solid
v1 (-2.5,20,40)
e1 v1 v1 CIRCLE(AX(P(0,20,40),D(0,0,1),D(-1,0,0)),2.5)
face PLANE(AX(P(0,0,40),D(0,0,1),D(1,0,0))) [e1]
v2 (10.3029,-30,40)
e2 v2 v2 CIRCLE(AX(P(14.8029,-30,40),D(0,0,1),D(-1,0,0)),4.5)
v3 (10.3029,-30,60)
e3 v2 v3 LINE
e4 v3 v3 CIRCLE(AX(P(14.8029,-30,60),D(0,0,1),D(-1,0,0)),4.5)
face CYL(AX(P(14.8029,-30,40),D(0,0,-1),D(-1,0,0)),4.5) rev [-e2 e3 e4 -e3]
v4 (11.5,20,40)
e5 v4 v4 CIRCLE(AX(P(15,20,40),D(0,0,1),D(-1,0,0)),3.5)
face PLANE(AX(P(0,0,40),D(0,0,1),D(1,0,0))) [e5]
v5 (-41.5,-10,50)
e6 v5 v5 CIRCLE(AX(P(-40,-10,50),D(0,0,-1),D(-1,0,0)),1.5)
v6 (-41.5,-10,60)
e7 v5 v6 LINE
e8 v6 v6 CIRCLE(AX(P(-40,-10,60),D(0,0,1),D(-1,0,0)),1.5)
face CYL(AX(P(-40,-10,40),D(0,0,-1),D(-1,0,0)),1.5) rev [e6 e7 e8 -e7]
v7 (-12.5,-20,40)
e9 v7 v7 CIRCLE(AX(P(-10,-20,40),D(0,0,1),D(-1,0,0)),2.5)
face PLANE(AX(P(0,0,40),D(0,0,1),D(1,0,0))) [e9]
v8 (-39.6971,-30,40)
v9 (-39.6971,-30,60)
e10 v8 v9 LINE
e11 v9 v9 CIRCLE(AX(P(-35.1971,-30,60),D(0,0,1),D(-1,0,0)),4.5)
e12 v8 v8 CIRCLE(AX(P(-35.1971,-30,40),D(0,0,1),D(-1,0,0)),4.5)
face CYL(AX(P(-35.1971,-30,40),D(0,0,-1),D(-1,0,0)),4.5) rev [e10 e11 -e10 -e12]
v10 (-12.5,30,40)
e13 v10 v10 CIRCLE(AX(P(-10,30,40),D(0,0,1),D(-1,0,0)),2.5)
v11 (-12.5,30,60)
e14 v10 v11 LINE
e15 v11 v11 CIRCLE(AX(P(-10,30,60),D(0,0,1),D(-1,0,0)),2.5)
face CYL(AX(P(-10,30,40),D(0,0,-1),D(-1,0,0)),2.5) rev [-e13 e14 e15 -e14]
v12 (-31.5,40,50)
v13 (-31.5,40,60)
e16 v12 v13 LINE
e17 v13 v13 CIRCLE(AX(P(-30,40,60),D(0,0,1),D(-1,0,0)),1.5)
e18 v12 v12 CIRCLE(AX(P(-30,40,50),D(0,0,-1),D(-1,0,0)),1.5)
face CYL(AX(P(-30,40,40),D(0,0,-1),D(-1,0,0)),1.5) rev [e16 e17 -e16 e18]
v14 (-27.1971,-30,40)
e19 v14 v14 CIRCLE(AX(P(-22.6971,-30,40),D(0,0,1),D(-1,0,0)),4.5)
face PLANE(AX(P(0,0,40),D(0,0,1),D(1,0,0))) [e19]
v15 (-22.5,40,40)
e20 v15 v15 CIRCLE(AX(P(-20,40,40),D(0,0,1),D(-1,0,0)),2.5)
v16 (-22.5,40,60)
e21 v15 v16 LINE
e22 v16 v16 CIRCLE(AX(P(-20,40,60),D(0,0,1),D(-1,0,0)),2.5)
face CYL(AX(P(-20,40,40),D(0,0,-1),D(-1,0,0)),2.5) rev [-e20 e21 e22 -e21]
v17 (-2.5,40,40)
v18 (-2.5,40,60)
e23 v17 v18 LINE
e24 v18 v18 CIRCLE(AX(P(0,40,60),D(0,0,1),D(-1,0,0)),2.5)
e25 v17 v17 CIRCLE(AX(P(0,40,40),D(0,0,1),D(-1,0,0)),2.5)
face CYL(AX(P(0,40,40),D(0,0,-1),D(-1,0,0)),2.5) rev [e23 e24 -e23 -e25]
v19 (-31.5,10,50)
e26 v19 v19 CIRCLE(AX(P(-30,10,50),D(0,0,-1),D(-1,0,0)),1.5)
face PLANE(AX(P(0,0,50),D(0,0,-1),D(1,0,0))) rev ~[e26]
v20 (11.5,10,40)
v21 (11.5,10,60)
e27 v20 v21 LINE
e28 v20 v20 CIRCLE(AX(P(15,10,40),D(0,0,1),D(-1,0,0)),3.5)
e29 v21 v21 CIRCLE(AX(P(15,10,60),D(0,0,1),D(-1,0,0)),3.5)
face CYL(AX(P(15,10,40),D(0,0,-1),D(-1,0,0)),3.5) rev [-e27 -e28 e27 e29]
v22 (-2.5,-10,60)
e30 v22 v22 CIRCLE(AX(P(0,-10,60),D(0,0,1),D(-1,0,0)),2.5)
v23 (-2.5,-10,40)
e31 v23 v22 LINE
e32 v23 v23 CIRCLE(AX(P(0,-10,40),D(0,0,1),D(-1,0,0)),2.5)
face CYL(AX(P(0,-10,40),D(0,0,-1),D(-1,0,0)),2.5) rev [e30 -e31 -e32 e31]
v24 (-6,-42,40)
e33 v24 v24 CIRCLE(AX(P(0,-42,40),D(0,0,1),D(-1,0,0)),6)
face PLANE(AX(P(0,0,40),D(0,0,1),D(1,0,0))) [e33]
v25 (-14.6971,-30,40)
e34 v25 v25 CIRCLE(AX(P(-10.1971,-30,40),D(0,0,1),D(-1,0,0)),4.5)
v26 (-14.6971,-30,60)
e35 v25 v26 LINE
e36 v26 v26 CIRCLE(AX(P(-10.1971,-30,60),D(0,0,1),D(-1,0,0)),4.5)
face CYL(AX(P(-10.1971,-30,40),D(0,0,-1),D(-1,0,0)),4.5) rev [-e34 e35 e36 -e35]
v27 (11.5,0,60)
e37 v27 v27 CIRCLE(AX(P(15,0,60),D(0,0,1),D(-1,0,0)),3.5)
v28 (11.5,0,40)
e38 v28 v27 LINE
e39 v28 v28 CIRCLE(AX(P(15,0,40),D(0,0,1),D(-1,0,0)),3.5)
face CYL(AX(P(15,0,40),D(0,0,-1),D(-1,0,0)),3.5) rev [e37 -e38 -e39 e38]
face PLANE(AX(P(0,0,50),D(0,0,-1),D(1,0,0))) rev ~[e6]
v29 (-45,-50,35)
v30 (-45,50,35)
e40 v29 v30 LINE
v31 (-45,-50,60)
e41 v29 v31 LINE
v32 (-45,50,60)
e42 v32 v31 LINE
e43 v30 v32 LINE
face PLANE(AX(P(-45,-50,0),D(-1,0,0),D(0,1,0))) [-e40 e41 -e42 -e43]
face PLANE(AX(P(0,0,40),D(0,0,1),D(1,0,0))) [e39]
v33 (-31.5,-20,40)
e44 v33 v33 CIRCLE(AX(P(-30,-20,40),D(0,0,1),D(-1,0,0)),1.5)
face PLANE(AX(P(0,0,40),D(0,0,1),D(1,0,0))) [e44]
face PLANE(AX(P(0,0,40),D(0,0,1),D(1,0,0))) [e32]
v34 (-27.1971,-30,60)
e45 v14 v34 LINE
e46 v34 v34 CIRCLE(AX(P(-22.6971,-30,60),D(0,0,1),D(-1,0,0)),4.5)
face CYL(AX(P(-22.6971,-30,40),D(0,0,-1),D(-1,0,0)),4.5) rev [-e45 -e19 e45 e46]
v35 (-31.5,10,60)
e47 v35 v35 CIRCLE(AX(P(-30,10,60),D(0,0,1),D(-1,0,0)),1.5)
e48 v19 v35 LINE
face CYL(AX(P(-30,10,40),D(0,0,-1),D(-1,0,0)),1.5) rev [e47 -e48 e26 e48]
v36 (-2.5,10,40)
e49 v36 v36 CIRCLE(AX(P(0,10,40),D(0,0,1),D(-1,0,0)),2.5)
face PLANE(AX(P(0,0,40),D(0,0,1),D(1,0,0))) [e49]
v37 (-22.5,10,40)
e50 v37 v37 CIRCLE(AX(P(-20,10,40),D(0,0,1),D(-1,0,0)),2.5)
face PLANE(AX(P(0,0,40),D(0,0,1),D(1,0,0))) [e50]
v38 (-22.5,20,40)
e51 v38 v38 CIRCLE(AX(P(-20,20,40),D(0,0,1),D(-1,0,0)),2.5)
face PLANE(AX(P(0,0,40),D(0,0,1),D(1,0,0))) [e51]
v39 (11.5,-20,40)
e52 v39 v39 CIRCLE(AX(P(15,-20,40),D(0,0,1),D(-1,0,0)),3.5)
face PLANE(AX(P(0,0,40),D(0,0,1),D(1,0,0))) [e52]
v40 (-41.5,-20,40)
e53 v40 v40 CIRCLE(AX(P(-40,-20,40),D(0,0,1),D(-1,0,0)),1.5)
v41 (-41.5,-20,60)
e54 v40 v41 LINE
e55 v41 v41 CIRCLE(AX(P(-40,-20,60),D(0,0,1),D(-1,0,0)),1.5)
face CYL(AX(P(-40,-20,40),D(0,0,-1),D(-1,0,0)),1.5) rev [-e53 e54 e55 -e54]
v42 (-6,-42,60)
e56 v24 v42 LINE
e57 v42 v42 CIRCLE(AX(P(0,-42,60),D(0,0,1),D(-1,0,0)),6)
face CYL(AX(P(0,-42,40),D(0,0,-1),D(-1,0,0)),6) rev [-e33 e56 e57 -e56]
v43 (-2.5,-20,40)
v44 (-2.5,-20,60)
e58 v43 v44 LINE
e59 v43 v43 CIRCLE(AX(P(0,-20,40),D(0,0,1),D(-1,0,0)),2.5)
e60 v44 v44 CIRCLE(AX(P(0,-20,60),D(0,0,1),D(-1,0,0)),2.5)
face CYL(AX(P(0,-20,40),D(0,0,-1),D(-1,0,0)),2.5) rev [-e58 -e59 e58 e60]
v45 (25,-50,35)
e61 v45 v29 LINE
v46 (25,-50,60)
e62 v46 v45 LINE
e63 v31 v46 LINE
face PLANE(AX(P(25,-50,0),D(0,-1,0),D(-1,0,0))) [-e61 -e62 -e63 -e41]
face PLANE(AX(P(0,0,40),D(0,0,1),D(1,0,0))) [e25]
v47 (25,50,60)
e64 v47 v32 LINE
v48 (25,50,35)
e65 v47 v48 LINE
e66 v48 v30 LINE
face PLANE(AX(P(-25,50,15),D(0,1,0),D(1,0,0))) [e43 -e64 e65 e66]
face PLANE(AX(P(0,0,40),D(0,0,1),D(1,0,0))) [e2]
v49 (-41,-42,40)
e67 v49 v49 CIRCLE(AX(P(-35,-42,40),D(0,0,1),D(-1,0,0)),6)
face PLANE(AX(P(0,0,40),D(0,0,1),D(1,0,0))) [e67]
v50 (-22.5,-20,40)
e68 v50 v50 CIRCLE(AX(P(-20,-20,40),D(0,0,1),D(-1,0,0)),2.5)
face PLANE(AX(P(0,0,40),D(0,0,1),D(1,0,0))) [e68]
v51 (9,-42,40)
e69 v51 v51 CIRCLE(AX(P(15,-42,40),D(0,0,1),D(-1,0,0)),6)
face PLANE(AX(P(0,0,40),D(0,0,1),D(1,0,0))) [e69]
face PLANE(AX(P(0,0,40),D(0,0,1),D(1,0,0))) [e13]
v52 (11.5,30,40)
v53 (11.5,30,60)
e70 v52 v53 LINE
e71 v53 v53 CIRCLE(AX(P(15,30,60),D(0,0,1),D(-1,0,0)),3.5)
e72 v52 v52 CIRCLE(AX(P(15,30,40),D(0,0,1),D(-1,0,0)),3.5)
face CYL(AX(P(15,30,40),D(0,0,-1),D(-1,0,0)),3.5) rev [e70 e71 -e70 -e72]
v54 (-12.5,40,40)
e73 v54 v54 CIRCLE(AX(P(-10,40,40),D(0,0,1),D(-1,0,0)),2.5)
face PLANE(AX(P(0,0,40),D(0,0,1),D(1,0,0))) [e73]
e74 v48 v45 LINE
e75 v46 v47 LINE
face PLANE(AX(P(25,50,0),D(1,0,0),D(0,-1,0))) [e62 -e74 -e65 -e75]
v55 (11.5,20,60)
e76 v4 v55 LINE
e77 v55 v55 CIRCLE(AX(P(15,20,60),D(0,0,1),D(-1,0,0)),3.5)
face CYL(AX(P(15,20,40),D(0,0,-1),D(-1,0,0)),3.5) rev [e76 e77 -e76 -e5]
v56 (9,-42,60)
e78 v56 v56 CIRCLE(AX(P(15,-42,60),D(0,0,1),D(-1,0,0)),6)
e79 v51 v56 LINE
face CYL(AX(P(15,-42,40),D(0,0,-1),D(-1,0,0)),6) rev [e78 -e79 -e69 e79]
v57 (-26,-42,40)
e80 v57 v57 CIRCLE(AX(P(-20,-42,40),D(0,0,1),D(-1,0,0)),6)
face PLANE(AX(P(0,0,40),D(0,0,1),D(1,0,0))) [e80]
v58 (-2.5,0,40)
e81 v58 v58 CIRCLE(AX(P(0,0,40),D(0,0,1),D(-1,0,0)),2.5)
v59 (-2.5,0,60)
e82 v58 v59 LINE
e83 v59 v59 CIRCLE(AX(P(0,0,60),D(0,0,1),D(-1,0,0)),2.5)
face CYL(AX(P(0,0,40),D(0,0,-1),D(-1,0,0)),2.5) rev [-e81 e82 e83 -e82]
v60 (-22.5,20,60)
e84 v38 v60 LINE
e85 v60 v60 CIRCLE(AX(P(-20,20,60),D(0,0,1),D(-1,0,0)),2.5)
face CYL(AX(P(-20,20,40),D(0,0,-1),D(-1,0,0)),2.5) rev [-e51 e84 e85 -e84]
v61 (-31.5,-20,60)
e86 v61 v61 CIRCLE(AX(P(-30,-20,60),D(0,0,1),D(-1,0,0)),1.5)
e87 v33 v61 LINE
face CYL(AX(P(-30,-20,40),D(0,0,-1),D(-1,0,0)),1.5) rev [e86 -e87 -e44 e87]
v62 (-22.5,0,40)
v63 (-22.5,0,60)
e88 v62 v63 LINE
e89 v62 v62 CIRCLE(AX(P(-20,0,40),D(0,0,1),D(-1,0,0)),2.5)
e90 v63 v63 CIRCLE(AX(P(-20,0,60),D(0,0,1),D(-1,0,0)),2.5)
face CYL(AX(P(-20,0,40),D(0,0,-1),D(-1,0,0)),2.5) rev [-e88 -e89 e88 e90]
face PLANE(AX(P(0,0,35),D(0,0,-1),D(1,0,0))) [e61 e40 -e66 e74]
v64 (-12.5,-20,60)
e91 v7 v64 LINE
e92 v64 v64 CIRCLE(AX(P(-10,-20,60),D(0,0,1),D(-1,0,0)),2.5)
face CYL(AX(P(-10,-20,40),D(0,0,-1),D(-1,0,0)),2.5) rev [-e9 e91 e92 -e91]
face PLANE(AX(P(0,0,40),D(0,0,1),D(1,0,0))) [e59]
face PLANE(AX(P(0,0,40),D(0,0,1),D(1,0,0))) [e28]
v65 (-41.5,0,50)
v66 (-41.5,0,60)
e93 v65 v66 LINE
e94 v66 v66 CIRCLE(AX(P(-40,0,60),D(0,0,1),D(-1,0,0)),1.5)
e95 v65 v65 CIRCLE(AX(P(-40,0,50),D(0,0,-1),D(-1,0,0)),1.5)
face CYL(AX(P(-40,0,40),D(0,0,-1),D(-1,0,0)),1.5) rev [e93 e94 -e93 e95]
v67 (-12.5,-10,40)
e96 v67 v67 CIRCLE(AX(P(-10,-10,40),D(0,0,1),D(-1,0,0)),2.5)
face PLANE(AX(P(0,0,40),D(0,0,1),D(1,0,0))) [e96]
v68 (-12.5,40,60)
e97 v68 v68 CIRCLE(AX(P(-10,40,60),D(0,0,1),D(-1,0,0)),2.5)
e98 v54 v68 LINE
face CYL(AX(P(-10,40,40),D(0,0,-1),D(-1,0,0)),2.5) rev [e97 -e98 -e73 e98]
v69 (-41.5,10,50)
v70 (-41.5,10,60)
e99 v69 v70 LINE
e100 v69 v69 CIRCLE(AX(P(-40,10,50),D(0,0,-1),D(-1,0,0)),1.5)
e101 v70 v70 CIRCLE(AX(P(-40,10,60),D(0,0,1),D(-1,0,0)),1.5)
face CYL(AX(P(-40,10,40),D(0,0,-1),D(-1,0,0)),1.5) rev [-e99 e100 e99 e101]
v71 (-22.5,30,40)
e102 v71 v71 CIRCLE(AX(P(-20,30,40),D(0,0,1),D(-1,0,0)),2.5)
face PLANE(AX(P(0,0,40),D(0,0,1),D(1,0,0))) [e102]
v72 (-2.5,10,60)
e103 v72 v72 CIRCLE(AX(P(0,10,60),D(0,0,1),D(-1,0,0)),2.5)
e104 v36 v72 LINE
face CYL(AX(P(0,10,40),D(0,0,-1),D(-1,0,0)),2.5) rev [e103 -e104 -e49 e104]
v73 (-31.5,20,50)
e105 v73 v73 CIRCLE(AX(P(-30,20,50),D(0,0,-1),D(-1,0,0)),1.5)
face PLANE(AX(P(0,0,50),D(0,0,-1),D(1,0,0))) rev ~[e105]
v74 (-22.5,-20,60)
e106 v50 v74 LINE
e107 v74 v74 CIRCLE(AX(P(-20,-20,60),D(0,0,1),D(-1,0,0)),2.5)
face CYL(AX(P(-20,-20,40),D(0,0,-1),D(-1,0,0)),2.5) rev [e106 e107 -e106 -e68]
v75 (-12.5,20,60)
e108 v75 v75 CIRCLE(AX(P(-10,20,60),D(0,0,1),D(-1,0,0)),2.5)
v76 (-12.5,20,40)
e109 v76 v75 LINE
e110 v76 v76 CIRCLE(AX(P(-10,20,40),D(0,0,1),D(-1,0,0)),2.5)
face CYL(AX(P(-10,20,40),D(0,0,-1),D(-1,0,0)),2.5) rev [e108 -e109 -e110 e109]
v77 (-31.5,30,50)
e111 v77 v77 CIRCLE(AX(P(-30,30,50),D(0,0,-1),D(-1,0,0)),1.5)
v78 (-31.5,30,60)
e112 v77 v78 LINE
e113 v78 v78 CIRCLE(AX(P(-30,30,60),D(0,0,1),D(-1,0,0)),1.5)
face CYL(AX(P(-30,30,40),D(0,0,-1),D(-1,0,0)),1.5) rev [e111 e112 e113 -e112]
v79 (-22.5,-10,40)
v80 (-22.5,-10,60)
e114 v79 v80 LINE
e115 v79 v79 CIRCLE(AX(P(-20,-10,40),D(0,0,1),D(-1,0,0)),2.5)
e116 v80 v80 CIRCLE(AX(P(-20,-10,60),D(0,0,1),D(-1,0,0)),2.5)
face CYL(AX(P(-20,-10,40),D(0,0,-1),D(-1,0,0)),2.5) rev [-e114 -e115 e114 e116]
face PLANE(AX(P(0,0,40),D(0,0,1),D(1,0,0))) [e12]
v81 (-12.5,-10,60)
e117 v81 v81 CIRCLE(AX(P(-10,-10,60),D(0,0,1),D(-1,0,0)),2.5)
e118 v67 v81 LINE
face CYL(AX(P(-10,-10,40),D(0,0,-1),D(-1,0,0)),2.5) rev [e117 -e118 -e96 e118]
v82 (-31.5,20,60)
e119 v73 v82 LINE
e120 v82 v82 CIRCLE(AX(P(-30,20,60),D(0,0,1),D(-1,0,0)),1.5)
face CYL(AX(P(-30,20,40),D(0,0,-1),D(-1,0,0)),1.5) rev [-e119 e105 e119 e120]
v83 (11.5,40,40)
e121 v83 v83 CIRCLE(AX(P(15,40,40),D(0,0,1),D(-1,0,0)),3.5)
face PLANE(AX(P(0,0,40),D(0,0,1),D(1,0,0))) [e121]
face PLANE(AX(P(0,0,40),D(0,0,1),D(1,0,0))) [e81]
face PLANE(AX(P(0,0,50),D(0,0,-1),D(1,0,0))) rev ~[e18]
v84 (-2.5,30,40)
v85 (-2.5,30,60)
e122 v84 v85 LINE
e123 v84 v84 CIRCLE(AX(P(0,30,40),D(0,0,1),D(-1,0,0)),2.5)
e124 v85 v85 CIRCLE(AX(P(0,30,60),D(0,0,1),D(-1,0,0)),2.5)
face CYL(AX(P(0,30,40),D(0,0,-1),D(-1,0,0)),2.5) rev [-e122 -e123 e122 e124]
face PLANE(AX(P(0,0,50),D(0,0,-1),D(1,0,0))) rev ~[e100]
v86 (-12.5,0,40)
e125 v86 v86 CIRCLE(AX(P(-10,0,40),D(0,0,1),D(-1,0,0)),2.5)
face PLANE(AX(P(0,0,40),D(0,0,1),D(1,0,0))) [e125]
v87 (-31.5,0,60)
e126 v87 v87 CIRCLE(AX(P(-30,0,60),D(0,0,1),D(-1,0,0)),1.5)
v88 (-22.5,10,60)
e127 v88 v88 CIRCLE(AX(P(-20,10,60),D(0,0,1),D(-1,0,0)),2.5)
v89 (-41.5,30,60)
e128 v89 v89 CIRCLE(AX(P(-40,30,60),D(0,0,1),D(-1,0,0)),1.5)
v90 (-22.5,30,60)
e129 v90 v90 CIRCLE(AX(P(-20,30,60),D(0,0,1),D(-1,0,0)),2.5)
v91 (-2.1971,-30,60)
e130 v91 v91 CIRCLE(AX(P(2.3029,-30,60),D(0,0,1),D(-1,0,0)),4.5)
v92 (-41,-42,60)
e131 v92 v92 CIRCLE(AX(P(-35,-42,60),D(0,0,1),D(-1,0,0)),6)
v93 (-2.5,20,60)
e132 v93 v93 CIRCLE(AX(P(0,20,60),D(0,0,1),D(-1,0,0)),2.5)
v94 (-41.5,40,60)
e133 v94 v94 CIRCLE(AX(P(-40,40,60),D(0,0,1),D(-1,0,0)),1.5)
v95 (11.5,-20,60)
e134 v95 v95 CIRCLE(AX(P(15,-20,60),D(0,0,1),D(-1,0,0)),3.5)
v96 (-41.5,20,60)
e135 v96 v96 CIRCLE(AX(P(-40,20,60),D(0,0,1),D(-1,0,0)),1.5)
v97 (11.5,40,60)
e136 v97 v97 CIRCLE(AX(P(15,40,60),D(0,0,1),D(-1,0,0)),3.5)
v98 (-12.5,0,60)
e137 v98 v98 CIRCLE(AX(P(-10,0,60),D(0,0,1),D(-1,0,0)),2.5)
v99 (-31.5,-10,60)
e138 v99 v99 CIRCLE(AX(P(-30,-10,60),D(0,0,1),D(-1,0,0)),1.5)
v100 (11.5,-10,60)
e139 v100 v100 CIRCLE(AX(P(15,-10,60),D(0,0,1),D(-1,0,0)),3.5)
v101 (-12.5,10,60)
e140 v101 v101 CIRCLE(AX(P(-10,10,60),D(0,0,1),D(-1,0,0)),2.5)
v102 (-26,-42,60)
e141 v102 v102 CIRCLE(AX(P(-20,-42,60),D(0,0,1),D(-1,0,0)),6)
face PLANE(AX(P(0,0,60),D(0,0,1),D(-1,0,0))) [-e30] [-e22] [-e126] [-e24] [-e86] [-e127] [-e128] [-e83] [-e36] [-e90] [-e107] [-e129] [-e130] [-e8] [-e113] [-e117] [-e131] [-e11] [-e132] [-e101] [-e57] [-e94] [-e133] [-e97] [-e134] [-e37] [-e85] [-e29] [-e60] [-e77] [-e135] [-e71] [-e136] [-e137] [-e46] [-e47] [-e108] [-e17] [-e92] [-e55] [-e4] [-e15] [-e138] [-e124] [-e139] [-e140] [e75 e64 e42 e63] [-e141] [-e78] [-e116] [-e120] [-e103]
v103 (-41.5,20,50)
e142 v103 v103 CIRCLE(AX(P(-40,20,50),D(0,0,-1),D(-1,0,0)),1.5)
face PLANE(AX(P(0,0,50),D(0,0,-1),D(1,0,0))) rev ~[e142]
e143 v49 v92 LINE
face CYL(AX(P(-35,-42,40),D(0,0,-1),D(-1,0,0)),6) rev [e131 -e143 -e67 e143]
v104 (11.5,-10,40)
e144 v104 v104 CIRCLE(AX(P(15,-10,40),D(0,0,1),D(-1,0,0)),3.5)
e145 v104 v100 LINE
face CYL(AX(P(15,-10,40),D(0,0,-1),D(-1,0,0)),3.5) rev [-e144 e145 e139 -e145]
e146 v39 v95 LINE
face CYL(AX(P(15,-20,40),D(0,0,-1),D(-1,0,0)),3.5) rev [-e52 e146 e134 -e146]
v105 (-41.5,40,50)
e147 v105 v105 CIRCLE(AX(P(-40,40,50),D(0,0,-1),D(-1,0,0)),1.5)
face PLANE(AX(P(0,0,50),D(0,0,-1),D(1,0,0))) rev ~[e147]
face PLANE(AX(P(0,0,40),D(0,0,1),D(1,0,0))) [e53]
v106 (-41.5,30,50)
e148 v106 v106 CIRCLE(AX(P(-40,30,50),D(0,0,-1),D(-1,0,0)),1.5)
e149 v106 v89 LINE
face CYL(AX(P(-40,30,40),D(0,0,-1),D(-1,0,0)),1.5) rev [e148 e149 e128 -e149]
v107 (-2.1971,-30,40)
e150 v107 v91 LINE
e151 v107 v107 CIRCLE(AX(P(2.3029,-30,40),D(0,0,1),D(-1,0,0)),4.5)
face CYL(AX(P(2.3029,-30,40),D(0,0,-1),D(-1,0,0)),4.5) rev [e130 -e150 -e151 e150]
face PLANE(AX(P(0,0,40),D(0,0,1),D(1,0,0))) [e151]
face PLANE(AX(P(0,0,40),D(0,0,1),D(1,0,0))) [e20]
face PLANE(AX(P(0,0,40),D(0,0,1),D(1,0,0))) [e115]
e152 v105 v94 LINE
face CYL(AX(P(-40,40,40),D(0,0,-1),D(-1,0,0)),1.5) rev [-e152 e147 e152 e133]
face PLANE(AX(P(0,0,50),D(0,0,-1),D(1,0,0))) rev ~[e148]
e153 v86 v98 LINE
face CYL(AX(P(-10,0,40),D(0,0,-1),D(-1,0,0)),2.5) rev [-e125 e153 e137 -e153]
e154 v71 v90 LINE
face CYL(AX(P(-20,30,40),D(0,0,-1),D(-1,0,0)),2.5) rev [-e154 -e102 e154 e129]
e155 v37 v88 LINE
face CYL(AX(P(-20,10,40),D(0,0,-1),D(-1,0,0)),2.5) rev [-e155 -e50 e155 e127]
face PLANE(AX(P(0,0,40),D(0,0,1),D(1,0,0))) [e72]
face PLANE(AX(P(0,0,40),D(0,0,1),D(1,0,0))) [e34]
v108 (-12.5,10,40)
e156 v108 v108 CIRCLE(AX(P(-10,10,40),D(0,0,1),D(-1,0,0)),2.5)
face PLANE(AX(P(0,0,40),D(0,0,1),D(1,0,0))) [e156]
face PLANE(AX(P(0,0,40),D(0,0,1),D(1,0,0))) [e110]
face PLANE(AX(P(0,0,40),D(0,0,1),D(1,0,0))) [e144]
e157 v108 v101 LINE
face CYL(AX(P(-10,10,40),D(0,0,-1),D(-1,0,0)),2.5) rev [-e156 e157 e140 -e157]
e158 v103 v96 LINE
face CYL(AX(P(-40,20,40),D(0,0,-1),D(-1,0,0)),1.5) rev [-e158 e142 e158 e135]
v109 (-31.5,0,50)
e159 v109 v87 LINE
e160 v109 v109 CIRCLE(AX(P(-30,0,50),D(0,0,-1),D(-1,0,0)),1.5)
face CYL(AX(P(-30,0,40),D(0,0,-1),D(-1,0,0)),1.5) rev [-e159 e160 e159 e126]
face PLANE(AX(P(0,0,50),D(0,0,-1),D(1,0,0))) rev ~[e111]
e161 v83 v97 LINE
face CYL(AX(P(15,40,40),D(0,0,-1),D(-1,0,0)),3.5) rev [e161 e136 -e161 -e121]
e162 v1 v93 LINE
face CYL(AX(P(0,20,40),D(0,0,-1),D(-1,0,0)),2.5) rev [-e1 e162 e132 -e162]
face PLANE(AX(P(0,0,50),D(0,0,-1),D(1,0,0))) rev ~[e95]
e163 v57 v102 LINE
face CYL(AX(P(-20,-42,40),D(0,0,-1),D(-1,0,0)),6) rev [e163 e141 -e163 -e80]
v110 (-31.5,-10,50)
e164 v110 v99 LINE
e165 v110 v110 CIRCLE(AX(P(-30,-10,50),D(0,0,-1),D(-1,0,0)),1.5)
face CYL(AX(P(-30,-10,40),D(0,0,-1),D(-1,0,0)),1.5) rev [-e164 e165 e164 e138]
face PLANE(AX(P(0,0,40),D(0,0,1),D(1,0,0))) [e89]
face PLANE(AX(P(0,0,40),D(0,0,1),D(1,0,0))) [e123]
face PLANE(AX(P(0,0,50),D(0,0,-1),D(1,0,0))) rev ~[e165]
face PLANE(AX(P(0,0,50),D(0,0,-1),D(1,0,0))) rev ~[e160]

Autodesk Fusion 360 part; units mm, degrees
sketch "Sketch1" plane through (0, 0, 0) normal (0, 0, 1) x (1, 0, 0)
  line L0 (-45, 50) -> (25, 50)
  line L1 (25, 50) -> (25, -50)
  line L2 (25, -50) -> (-45, -50)
  line L3 (-45, -50) -> (-45, 50)
  dimension "d1" = 70
  dimension "d2" = 100
extrude "Extrude1" add sketch "Sketch1" along normal blind 40
sketch "Sketch2" plane through (0, 0, 40) normal (0, 0, 1) x (-1, 0, 0)
  line L0 (45, 50) -> (-25, 50)
  line L1 (-25, 50) -> (-25, -50)
  line L2 (-25, -50) -> (45, -50)
  line L3 (45, -50) -> (45, 50)
  line L4 (40, -50) -> (40, 50) construction
  line L5 (30, -50) -> (30, 50) construction
  line L6 (20, -50) -> (20, 50) construction
  line L7 (10, -50) -> (10, 50) construction
  line L8 (0, -50) -> (0, 50) construction
  line L9 (-15, -50) -> (-15, 50) construction
  line L10 (45, -40) -> (-25, -40) construction
  line L11 (45, -30) -> (-25, -30) construction
  line L12 (45, -20) -> (-25, -20) construction
  line L13 (45, -10) -> (-25, -10) construction
  line L14 (45, 35) -> (-25, 35) construction
  line L15 (45, 45) -> (-25, 45) construction
  circle A0 centre (40, -40) radius 1.5
  circle A1 centre (40, -30) radius 1.5
  circle A2 centre (40, -20) radius 1.5
  circle A3 centre (40, -10) radius 1.5
  line L16 (45, 0) -> (-25, 0) construction
  line L17 (45, 10) -> (-25, 10) construction
  line L18 (45, 20) -> (-25, 20) construction
  line L19 (45, 30) -> (-25, 30) construction
  line L20 (-25, 42) -> (45, 42) construction
  circle A4 centre (40, 0) radius 1.5 construction
  circle A5 centre (40, 0) radius 1.5
  circle A6 centre (40, 10) radius 1.5
  circle A7 centre (40, 20) radius 1.5
  circle A8 centre (30, 0) radius 1.5
  circle A9 centre (30, -30) radius 1.5
  circle A10 centre (30, 20) radius 1.5
  circle A11 centre (30, 0) radius 1.5 construction
  circle A12 centre (30, -40) radius 1.5
  circle A13 centre (30, -20) radius 1.5
  circle A14 centre (30, 10) radius 1.5
  circle A15 centre (30, -10) radius 1.5
  circle A16 centre (0, -40) radius 2.5
  circle A17 centre (0, -30) radius 2.5
  circle A18 centre (0, -20) radius 2.5
  circle A19 centre (0, -10) radius 2.5
  circle A20 centre (0, 10) radius 2.5
  circle A21 centre (0, 0) radius 2.5
  circle A22 centre (0, 10) radius 2.5
  circle A23 centre (0, 20) radius 2.5
  circle A24 centre (10, 0) radius 2.5
  circle A25 centre (10, 10) radius 2.5
  circle A26 centre (10, 20) radius 2.5
  circle A27 centre (10, 10) radius 2.5
  circle A28 centre (10, -40) radius 2.5
  circle A29 centre (10, -20) radius 2.5
  circle A30 centre (10, -10) radius 2.5
  circle A31 centre (10, -30) radius 2.5
  circle A32 centre (20, 0) radius 2.5
  circle A33 centre (20, 10) radius 2.5
  circle A34 centre (20, 20) radius 2.5
  circle A35 centre (20, 10) radius 2.5
  circle A36 centre (20, -40) radius 2.5
  circle A37 centre (20, -20) radius 2.5
  circle A38 centre (20, -10) radius 2.5
  circle A39 centre (20, -30) radius 2.5
  circle A40 centre (-15, -40) radius 3.5
  circle A41 centre (-15, -30) radius 3.5
  circle A42 centre (-15, -20) radius 3.5
  circle A43 centre (-15, 0) radius 3.5
  circle A44 centre (-15, -10) radius 3.5
  circle A45 centre (-15, 10) radius 3.5
  circle A46 centre (-15, 20) radius 3.5
  circle A47 centre (35.1971, 30) radius 4.5
  circle A48 centre (10.1971, 30) radius 4.5
  circle A49 centre (-14.8029, 30) radius 4.5
  circle A50 centre (35, 42) radius 6
  circle A51 centre (0, 42) radius 6
  circle A52 centre (20, 42) radius 6
  circle A53 centre (-15, 42) radius 6
  circle A54 centre (35.1971, 30) radius 4.5
  circle A55 centre (22.6971, 30) radius 4.5
  circle A56 centre (-2.3029, 30) radius 4.5
  point P0 (10, -50)
  point P1 (10, 0)
  point P2 (20, -50)
  point P3 (20, 0)
  point P4 (-15, -20)
  dimension "d5" = 3
  dimension "d6" = 3
  dimension "d7" = 3
  dimension "d8" = 3
  dimension "d9" = 3
  dimension "d10" = 3
  dimension "d11" = 3
  dimension "d12" = 3
  dimension "d13" = 3
  dimension "d14" = 3
  dimension "d15" = 3
  dimension "d16" = 3
  dimension "d17" = 3
  dimension "d18" = 3
  dimension "d19" = 3
  dimension "d20" = 3
  dimension "d39" = 5
  dimension "d40" = 5
  dimension "d41" = 5
  dimension "d42" = 5
  dimension "d43" = 5
  dimension "d44" = 5
  dimension "d45" = 5
  dimension "d46" = 5
  dimension "d47" = 5
  dimension "d48" = 5
  dimension "d49" = 5
  dimension "d50" = 5
  dimension "d51" = 5
  dimension "d52" = 5
  dimension "d53" = 5
  dimension "d54" = 5
  dimension "d55" = 5
  dimension "d56" = 5
  dimension "d57" = 5
  dimension "d58" = 5
  dimension "d59" = 5
  dimension "d60" = 5
  dimension "d61" = 5
  dimension "d62" = 5
  dimension "d63" = 7
  dimension "d64" = 7
  dimension "d65" = 7
  dimension "d66" = 7
  dimension "d67" = 7
  dimension "d68" = 7
  dimension "d69" = 7
  dimension "d70" = 9
  dimension "d71" = 9
  dimension "d72" = 9
  dimension "d73" = 12
  dimension "d74" = 12
  dimension "d75" = 12
  dimension "d76" = 12
  dimension "d77" = 9
  dimension "d78" = 9
  dimension "d79" = 9
extrude "Extrude2" add sketch "Sketch2" along normal blind 20
sketch "Sketch3" plane through (0, 0, 60) normal (0, 0, 1) x (-1, 0, 0)
  circle A0 centre (-2.3029, 30) radius 4.5
  circle A1 centre (35.1971, 30) radius 4.5
  circle A2 centre (22.6971, 30) radius 4.5
  circle A3 centre (20, 42) radius 6
  circle A4 centre (0, 42) radius 6
  circle A5 centre (-15, 42) radius 6
  circle A6 centre (-15, 10) radius 3.5
  circle A7 centre (-14.8029, 30) radius 4.5
  circle A8 centre (35, 42) radius 6
  circle A9 centre (10, -40) radius 2.5
  circle A10 centre (30, -20) radius 1.5
  circle A11 centre (30, 10) radius 1.5
  circle A12 centre (30, -10) radius 1.5
  circle A13 centre (0, -40) radius 2.5
  circle A14 centre (0, -30) radius 2.5
  circle A15 centre (0, -20) radius 2.5
  circle A16 centre (0, -10) radius 2.5
  circle A17 centre (0, 0) radius 2.5
  circle A18 centre (0, 20) radius 2.5
  circle A19 centre (10, -30) radius 2.5
  circle A20 centre (20, 0) radius 2.5
  circle A21 centre (10, 20) radius 2.5
  circle A22 centre (10, 0) radius 2.5
  circle A23 centre (0, 10) radius 2.5
  circle A24 centre (10, -20) radius 2.5
  circle A25 centre (10, -10) radius 2.5
  circle A26 centre (-15, -10) radius 3.5
  circle A27 centre (30, -40) radius 1.5
  circle A28 centre (20, 20) radius 2.5
  circle A29 centre (40, 20) radius 1.5
  circle A30 centre (20, 10) radius 2.5
  circle A31 centre (30, 20) radius 1.5
  circle A32 centre (-15, -20) radius 3.5
  circle A33 centre (40, -20) radius 1.5
  circle A34 centre (40, -40) radius 1.5
  circle A35 centre (30, -30) radius 1.5
  circle A36 centre (-15, 0) radius 3.5
  circle A37 centre (10, 10) radius 2.5
  circle A38 centre (30, 0) radius 1.5
  circle A39 centre (20, -30) radius 2.5
  circle A40 centre (-15, -30) radius 3.5
  circle A41 centre (40, 10) radius 1.5
  circle A42 centre (40, -10) radius 1.5
  circle A43 centre (40, 0) radius 1.5
  circle A44 centre (20, -40) radius 2.5
  circle A45 centre (20, -20) radius 2.5
  circle A46 centre (40, -30) radius 1.5
  circle A47 centre (-15, -40) radius 3.5
  circle A48 centre (20, -10) radius 2.5
  circle A49 centre (-15, 20) radius 3.5
  circle A50 centre (10.1971, 30) radius 4.5
  line L0 (45, -50) -> (45, 50)
  line L1 (45, 50) -> (-25, 50)
  line L2 (-25, 50) -> (-25, -50)
  line L3 (-25, -50) -> (45, -50)
extrude "Extrude3" cut 1 faces at (-21.6667, 16.6667, 0) along direction (0, 0, 1) blind 15
sketch "Sketch4" plane through (0, 0, 15) normal (0, 0, -1) x (1, 0, 0)
  line L0 (25, 50) -> (-45, 50)
  line L1 (-45, 50) -> (-45, -50)
  line L2 (-45, -50) -> (25, -50)
  line L3 (25, -50) -> (25, 50)
  line L4 (-25, -50) -> (-45, -50)
  line L5 (-45, -50) -> (-45, 15)
  line L6 (-45, 15) -> (-25, 15)
  line L7 (-25, 15) -> (-25, -50)
extrude "Extrude4" add sketch "Sketch4" against normal blind 35 contours L1 L2 L4 L5 L6 L7
sketch "Sketch5" plane through (0, 0, 15) normal (0, 0, -1) x (1, 0, 0)
  line L0 (-45, -50) -> (25, -50)
  line L1 (25, -50) -> (25, 50)
  line L2 (25, 50) -> (-45, 50)
  line L3 (-45, 50) -> (-45, -50)
  line L4 (-25, -50) -> (-25, -70)
  line L5 (-25, -70) -> (-15, -75)
  line L6 (5, -50) -> (5, -65)
  line L7 (-45, 23.0126) -> (-75, 23.0126)
  line L8 (5, -50) -> (-25, -50)
  line L9 (-25, -50) -> (-25, 23.0126)
  line L10 (-25, 23.0126) -> (5, 23.0126)
  line L11 (5, 23.0126) -> (5, -50)
  dimension "d86" = 11.1803
extrude "Extrude5" add sketch "Sketch5" against normal blind 25 contours L0 L8 L9 L10 L11
extrude "Extrude6" cut 1 faces at (1.6667, 16.6667, 15) along direction (0, 0, 1) blind 20
